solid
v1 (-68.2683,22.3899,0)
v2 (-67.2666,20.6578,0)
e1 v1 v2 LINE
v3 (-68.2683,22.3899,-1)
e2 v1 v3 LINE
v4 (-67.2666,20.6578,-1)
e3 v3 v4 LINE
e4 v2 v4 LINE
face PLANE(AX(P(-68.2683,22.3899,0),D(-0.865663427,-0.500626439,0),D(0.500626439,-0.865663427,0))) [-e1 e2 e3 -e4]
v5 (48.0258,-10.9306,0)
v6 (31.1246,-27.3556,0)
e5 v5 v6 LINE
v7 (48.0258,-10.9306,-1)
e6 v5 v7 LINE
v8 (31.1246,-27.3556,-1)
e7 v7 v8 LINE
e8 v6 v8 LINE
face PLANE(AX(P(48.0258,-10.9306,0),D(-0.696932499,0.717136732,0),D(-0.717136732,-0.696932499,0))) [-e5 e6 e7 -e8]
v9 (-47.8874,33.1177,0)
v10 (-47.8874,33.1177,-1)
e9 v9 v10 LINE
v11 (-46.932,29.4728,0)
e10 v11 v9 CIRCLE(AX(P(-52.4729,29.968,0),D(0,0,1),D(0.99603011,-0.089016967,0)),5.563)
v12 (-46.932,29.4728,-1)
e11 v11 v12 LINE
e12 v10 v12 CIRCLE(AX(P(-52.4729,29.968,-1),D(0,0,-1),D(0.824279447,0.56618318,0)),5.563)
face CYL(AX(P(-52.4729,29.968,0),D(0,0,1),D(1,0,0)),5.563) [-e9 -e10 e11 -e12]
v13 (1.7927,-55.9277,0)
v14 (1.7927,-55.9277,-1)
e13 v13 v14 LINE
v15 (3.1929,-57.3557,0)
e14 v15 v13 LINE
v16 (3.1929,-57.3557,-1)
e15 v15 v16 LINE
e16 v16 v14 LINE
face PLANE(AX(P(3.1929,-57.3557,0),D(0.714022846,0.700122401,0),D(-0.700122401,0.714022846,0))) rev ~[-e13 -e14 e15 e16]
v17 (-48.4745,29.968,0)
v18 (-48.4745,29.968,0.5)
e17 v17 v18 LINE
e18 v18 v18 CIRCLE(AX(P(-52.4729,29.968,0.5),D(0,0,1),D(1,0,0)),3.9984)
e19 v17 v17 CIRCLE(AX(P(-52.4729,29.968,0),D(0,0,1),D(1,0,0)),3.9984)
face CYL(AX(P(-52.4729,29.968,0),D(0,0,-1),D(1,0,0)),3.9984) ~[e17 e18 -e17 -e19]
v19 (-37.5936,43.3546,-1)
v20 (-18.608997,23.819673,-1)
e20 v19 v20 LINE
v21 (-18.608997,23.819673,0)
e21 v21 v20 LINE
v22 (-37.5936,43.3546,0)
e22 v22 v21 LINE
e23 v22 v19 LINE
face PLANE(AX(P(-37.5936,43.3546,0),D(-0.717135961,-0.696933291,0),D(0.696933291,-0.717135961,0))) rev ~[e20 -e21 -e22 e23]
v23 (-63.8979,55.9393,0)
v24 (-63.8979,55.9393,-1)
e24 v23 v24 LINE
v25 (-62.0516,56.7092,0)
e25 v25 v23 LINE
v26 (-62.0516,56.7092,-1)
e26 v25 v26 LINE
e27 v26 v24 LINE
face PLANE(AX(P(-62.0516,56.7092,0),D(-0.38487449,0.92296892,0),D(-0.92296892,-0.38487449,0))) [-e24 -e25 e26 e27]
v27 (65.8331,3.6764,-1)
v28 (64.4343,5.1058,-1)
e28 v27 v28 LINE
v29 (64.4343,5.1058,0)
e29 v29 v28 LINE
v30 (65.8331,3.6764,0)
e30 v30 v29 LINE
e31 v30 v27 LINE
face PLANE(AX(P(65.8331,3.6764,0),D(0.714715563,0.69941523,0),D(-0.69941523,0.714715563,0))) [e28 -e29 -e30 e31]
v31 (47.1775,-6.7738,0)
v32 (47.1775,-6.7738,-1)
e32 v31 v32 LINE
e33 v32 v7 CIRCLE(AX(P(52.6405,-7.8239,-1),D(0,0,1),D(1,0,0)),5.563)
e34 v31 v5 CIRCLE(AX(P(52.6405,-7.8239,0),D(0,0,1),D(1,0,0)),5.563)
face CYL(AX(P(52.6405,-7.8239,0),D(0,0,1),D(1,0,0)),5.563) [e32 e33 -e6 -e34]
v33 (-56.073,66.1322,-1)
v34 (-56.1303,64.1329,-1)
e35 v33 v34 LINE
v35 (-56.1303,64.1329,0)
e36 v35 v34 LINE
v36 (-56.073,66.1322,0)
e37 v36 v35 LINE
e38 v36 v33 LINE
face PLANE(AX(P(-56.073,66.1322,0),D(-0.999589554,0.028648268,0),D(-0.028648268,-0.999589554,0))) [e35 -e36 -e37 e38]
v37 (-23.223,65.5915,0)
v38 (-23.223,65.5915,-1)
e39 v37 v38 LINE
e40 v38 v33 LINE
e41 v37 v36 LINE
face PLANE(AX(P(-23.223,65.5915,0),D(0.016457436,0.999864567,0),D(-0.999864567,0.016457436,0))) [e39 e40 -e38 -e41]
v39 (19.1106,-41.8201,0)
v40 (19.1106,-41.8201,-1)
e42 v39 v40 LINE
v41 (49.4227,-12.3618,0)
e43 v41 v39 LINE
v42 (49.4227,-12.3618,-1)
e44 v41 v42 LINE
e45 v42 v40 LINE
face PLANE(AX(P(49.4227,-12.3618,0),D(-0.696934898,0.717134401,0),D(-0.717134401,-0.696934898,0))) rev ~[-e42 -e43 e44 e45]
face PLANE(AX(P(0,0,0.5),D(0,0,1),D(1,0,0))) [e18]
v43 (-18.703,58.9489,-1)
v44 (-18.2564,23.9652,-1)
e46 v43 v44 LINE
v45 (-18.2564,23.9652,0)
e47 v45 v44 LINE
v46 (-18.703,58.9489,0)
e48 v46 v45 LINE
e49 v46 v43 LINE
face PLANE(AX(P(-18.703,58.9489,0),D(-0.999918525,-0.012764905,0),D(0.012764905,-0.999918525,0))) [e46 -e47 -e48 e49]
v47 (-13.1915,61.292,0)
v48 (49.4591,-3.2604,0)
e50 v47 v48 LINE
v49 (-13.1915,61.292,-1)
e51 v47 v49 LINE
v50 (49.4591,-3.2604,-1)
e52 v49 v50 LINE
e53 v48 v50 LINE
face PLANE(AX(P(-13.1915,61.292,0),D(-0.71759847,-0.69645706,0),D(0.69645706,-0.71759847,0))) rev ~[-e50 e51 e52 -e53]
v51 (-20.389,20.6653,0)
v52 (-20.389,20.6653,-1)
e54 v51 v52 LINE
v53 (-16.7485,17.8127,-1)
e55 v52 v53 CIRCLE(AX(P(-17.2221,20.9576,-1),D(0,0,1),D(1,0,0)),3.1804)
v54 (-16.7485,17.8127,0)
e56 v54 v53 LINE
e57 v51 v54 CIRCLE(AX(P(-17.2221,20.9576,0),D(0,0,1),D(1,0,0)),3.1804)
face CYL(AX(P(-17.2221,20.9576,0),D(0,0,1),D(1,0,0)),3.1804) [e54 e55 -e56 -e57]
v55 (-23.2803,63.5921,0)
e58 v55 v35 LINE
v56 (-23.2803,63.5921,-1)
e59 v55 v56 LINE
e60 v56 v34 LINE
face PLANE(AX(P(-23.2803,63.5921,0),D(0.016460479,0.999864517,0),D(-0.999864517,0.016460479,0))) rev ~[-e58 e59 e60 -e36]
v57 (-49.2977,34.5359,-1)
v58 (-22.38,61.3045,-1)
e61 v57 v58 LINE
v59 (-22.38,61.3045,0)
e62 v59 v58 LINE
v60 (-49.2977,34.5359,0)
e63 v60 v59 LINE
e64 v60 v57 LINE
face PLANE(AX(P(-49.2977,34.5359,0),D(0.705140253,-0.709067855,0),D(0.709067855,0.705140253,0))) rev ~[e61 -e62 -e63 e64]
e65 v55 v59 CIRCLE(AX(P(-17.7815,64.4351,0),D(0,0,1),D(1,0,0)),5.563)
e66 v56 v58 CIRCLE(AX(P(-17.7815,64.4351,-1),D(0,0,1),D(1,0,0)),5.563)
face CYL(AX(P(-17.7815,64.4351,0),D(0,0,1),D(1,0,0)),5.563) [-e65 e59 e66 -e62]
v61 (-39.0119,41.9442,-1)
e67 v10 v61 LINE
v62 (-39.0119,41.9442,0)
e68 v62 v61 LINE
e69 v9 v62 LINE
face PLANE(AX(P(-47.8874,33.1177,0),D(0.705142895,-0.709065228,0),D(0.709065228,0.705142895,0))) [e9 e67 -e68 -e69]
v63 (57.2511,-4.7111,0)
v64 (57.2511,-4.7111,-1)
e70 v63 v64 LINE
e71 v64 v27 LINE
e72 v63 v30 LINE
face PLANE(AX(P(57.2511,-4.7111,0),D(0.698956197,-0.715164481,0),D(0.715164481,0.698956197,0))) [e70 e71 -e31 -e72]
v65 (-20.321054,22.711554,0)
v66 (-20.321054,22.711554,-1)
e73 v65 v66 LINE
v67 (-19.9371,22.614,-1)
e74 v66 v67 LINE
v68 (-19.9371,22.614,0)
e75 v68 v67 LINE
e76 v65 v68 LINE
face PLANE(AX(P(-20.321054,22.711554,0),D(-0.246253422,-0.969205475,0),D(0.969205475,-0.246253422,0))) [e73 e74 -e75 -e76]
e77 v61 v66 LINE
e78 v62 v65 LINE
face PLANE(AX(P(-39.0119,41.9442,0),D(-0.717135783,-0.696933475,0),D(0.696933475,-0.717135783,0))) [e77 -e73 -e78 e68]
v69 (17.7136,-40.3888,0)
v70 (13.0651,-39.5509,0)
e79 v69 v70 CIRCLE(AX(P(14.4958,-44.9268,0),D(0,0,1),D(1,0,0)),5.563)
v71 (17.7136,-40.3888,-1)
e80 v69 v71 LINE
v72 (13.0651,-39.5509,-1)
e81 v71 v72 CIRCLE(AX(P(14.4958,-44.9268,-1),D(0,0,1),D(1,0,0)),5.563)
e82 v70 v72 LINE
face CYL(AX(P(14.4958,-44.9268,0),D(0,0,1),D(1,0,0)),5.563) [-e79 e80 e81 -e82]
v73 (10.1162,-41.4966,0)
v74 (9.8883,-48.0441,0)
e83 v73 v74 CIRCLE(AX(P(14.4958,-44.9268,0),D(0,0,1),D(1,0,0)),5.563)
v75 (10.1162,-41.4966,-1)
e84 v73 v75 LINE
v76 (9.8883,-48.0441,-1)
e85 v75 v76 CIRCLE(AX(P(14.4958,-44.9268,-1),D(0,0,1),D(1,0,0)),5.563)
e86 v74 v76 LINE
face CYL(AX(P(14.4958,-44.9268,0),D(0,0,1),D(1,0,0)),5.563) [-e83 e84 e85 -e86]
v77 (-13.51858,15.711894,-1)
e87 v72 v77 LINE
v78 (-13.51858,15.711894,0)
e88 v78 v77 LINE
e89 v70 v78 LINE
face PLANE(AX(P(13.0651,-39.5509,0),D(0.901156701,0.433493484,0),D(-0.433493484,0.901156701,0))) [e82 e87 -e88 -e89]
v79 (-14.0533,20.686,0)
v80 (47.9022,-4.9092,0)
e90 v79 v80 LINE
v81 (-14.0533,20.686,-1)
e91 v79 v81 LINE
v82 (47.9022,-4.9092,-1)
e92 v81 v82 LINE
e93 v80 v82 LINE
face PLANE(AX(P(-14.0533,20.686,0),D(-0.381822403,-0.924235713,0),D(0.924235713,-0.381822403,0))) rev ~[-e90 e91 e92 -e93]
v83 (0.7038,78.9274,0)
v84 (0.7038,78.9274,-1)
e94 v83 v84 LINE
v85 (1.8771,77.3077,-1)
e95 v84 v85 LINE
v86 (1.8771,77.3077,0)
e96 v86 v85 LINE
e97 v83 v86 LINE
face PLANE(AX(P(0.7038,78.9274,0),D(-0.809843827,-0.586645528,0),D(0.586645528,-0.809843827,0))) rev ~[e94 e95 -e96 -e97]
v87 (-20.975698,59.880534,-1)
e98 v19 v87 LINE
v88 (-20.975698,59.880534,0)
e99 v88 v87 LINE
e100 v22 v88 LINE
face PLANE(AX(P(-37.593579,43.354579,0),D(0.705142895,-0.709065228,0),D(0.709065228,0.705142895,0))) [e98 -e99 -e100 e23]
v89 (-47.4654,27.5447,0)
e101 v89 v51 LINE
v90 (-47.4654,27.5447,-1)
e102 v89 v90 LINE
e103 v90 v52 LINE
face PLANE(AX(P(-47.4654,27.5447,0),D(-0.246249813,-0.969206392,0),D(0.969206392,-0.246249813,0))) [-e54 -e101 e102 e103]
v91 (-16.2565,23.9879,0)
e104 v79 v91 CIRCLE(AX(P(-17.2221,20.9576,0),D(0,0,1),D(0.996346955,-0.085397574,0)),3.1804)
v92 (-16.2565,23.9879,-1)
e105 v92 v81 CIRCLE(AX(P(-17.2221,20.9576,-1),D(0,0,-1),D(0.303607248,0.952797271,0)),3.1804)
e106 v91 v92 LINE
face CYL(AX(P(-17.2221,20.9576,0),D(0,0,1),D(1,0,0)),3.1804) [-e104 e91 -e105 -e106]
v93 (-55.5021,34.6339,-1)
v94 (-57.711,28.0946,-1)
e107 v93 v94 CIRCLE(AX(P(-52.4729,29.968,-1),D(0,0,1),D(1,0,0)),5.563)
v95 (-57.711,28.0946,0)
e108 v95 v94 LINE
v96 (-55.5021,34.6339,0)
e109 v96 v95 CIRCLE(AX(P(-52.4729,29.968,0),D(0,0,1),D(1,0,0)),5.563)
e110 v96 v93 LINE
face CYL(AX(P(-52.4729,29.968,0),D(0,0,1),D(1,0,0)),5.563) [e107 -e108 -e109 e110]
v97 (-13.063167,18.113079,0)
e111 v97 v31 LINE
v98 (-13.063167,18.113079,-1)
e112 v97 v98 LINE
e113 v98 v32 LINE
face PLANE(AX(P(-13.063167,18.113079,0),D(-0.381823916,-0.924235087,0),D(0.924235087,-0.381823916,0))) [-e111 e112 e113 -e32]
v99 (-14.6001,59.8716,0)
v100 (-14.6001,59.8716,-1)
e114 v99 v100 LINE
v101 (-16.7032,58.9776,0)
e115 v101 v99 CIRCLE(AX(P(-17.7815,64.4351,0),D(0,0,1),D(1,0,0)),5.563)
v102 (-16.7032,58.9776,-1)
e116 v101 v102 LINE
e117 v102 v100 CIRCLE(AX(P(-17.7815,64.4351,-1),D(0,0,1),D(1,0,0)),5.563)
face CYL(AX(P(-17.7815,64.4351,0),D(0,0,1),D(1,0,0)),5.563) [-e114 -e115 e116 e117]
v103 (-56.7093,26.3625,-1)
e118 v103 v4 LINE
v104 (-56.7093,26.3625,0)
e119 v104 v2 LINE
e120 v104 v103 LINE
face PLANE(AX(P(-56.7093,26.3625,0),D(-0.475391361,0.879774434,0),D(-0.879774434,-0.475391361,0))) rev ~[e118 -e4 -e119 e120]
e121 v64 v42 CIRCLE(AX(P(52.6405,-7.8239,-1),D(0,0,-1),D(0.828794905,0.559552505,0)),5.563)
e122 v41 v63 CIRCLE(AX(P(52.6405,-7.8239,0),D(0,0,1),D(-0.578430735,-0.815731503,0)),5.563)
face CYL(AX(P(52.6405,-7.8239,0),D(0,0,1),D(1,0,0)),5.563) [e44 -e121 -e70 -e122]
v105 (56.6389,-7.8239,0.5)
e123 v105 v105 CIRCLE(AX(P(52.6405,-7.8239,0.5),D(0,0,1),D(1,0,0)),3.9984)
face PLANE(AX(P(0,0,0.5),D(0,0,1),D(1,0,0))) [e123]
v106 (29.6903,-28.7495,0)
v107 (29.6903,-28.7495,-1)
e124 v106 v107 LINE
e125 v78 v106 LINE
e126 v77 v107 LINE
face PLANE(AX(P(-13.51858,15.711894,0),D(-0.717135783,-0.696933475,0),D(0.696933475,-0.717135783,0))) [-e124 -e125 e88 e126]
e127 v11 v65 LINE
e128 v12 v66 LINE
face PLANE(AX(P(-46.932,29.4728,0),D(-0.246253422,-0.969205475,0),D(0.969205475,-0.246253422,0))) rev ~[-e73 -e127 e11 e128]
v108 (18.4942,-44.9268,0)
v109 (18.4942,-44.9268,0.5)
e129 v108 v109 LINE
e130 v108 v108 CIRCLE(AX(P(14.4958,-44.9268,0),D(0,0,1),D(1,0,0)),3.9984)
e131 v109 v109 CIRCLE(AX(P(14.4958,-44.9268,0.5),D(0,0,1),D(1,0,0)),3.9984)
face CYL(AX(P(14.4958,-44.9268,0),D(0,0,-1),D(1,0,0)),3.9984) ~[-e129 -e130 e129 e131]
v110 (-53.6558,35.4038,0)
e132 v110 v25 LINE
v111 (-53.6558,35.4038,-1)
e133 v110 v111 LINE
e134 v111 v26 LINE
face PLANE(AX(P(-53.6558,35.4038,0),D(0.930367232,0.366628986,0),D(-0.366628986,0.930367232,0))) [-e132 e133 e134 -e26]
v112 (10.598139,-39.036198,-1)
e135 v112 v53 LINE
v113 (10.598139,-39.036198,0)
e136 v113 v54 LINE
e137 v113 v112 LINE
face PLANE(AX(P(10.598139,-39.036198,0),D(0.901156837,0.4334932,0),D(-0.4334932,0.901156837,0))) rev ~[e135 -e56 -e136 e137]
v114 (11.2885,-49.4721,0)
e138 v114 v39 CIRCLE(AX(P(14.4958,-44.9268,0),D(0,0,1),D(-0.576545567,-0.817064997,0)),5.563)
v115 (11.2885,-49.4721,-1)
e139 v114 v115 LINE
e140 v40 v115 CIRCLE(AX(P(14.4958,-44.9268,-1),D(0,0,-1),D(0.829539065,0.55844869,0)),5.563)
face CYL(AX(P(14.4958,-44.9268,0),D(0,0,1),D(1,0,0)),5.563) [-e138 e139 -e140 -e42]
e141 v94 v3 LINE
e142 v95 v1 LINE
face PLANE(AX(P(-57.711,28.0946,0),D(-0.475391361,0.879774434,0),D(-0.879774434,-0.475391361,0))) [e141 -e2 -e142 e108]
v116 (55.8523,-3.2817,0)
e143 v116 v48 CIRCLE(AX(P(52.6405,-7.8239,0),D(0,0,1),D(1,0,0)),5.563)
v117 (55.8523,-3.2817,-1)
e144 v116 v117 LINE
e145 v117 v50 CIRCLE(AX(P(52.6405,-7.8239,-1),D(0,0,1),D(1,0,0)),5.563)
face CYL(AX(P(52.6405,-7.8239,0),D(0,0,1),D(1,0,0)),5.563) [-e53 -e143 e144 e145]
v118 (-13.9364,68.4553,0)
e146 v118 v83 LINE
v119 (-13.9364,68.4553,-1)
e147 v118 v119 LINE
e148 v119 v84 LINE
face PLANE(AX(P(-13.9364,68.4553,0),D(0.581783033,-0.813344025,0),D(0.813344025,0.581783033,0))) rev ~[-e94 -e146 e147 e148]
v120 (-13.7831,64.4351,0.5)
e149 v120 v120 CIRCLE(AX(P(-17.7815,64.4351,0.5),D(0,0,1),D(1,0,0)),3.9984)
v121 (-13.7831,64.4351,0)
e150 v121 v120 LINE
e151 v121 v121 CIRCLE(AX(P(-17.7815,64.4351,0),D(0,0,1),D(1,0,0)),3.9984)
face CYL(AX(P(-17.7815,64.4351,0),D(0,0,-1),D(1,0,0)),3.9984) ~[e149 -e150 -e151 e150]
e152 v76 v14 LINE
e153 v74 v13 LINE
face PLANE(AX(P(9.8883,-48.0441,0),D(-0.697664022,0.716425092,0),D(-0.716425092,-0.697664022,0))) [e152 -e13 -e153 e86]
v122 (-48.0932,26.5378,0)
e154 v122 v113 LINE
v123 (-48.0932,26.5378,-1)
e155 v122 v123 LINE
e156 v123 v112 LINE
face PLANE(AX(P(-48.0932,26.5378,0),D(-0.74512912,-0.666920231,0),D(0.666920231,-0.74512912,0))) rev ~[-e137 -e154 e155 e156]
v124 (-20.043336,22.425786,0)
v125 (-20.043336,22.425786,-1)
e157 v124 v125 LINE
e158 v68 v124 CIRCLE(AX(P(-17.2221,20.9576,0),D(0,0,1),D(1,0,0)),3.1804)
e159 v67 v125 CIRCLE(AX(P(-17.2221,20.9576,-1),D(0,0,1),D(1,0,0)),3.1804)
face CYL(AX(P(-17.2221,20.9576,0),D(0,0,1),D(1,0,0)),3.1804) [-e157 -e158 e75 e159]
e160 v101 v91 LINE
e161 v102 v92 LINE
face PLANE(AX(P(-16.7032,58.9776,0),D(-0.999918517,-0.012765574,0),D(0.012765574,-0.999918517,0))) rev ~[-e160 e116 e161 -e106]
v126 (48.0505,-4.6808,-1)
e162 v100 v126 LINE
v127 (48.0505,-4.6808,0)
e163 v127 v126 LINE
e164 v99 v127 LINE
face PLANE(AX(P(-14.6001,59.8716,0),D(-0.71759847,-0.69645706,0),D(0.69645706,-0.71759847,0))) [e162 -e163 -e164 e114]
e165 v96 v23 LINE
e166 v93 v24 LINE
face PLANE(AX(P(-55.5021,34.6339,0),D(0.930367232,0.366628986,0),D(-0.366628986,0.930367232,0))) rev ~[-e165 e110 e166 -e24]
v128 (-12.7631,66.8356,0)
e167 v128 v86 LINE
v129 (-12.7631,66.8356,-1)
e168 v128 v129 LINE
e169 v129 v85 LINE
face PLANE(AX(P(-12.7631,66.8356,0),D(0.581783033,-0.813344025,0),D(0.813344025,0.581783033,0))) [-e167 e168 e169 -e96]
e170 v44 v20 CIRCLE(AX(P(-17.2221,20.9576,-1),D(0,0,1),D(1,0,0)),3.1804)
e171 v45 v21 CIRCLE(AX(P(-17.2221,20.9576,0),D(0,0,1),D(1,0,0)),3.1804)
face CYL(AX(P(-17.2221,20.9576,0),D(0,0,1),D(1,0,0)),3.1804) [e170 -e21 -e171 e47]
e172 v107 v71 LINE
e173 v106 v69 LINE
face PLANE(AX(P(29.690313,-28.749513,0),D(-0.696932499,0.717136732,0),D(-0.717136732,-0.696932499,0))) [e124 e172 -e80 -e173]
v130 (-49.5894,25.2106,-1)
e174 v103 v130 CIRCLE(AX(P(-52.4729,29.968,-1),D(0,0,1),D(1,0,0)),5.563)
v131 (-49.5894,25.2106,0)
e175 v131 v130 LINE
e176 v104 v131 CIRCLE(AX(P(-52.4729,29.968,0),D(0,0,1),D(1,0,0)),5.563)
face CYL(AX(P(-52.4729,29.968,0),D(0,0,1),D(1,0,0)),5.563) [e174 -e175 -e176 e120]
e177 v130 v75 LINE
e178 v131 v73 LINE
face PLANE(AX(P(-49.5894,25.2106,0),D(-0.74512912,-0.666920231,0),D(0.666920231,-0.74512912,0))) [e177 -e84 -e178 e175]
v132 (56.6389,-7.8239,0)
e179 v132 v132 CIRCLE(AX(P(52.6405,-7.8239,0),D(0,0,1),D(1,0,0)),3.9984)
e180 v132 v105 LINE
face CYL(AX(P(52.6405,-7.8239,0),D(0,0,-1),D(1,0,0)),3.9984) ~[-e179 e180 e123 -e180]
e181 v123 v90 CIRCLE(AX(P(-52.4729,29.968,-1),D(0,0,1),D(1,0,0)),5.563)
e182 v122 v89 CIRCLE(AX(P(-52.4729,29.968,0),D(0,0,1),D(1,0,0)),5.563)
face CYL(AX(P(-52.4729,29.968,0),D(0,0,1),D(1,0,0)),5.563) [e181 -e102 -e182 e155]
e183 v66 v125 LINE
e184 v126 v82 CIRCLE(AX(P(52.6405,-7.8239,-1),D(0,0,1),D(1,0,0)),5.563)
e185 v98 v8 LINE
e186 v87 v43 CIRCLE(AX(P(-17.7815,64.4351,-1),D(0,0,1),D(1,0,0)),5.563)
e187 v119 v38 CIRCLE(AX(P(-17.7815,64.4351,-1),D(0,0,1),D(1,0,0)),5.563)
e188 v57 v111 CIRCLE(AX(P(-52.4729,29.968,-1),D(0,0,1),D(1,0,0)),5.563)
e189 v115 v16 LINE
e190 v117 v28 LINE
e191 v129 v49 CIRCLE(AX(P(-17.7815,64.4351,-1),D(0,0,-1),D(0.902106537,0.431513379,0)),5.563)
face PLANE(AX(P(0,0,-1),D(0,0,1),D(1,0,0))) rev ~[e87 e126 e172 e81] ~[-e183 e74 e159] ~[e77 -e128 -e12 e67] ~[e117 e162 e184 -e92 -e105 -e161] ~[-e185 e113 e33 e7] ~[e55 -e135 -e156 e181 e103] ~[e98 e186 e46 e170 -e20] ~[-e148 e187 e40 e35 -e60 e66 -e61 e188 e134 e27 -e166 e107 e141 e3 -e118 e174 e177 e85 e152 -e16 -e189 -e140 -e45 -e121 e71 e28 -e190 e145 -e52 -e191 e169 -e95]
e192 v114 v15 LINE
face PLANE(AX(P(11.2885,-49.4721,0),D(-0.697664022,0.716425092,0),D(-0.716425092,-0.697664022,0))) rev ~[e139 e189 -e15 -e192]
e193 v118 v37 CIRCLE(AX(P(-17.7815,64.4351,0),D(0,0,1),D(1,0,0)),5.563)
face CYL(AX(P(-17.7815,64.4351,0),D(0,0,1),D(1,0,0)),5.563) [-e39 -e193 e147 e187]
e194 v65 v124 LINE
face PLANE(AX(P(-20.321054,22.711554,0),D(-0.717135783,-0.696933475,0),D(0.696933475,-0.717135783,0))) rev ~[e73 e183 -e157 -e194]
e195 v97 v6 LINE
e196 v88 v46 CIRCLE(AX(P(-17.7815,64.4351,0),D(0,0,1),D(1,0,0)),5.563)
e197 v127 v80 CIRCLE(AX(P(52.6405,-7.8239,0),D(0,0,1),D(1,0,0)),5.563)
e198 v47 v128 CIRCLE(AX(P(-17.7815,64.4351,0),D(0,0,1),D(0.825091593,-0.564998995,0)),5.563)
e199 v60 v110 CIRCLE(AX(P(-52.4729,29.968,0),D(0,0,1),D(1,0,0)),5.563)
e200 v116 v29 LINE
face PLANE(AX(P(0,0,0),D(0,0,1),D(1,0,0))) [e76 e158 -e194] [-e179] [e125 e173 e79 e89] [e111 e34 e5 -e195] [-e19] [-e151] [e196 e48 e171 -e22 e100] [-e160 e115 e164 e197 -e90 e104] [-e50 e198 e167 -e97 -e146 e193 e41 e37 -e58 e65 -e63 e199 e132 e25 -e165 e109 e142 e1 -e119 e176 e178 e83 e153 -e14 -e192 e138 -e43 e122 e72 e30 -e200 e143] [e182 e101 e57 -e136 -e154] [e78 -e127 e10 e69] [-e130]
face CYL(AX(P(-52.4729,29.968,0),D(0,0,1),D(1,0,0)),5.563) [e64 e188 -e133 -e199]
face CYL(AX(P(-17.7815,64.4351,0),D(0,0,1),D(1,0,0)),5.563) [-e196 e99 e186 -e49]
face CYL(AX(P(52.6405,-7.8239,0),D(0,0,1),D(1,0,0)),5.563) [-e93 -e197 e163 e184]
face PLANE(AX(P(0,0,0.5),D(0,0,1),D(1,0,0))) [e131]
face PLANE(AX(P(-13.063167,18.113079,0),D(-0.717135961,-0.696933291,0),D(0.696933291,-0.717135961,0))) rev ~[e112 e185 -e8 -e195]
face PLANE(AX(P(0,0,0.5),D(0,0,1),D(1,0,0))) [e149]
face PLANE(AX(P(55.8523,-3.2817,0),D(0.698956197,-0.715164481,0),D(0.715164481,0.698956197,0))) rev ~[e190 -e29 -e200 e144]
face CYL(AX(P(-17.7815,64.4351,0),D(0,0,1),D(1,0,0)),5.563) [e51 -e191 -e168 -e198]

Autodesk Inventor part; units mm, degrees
ref_plane "YZ Plane" through (0, 0, 0) normal (1, 0, 0) x (0, 1, 0)
ref_plane "XZ Plane" through (0, 0, 0) normal (0, 1, 0) x (-1, 0, 0)
ref_plane "XY Plane" through (0, 0, 0) normal (0, 0, 1) x (1, 0, 0)
sketch "Sketch1" plane through (0, 0, 0) normal (0, 0, 1) x (1, 0, 0)
  line L0 (-49.2977, 34.5359) -> (-22.38, 61.3045)
  line L1 (-47.8874, 33.1177) -> (-20.9698, 59.8864)
  line L2 (-49.2977, 34.5359) -> (-47.8874, 33.1177) construction
  circle A0 centre (-52.4729, 29.968) radius 5.563
  circle A1 centre (-52.4729, 29.968) radius 3.9984
  circle A2 centre (-17.7815, 64.4351) radius 5.563
  circle A3 centre (-17.7815, 64.4351) radius 3.9984
  line L3 (-13.9364, 68.4553) -> (0.7038, 78.9274)
  line L4 (-12.7631, 66.8356) -> (1.8771, 77.3077)
  line L5 (-57.711, 28.0946) -> (-68.2683, 22.3899)
  line L6 (-56.7093, 26.3625) -> (-67.2666, 20.6578)
  line L7 (-49.5894, 25.2106) -> (10.1162, -41.4966)
  circle A4 centre (14.4958, -44.9268) radius 5.563
  circle A5 centre (14.4958, -44.9268) radius 3.9984
  circle A6 centre (52.6405, -7.8239) radius 3.9984
  circle A7 centre (52.6405, -7.8239) radius 5.563
  line L8 (-48.0932, 26.5378) -> (11.6124, -40.1694)
  line L9 (-14.6001, 59.8716) -> (48.0505, -4.6808)
  line L10 (-13.1915, 61.292) -> (49.4591, -3.2604)
  line L11 (49.4227, -12.3618) -> (19.1106, -41.8201)
  line L12 (48.0258, -10.9306) -> (17.7136, -40.3888)
  line L13 (11.2885, -49.4721) -> (3.1929, -57.3557)
  line L14 (9.8883, -48.0441) -> (1.7927, -55.9277)
  line L15 (57.2511, -4.7111) -> (65.8331, 3.6764)
  line L16 (55.8523, -3.2817) -> (64.4343, 5.1058)
  line L17 (-39.0119, 41.9442) -> (29.6903, -28.7495)
  line L18 (-37.5936, 43.3546) -> (31.1246, -27.3556)
  line L19 (-55.5021, 34.6339) -> (-63.8979, 55.9393)
  line L20 (-53.6558, 35.4038) -> (-62.0516, 56.7092)
  line L21 (-23.223, 65.5915) -> (-56.073, 66.1322)
  line L22 (-23.2803, 63.5921) -> (-56.1303, 64.1329)
  circle A8 centre (-17.2221, 20.9576) radius 3.1804
  line L23 (13.0651, -39.5509) -> (-14.9644, 18.7175)
  line L24 (11.2563, -40.4044) -> (-16.7485, 17.8127)
  line L25 (-14.0533, 20.686) -> (47.9022, -4.9092)
  line L26 (-14.8421, 18.848) -> (47.1775, -6.7738)
  line L27 (-18.703, 58.9489) -> (-18.2564, 23.9652)
  line L28 (-16.7032, 58.9776) -> (-16.2565, 23.9879)
  line L29 (-47.4654, 27.5447) -> (-20.389, 20.6653)
  line L30 (-46.932, 29.4728) -> (-19.9371, 22.614)
  line L31 (0.7038, 78.9274) -> (1.8771, 77.3077)
  line L32 (-56.073, 66.1322) -> (-56.1303, 64.1329)
  line L33 (-62.0516, 56.7092) -> (-63.8979, 55.9393)
  line L34 (-68.2683, 22.3899) -> (-67.2666, 20.6578)
  line L35 (3.1929, -57.3557) -> (1.7927, -55.9277)
  line L36 (65.8331, 3.6764) -> (64.4343, 5.1058)
  point P0 (0, 0)
  point P1 (9.143, -43.4122)
  point P2 (-19.963, 60.8956)
  point P3 (18.6755, -41.2556)
  point P4 (19.8991, -43.603)
  point P5 (47.2964, -9.3692)
  point P6 (58.0343, -9.1855)
  point P7 (55.8444, -3.2761)
  point P8 (16.2732, -50.1982)
  point P9 (18.0227, -49.2289)
  point P10 (56.2951, -12.0181)
  point P11 (57.5423, -10.4544)
  point P12 (-20.321, 22.7115)
  point P13 (-20.9757, 59.8805)
  point P14 (-18.6091, 23.8197)
  point P15 (10.5981, -39.0362)
  point P16 (31.0842, -30.1838)
  point P17 (32.5185, -28.7899)
  point P18 (31.1246, -27.3556)
  point P19 (-13.0632, 18.1131)
  point P20 (-13.5186, 15.7119)
  point P21 (29.6903, -28.7495)
  point P22 (-20.0433, 22.4258)
  dimension "d49" = 6.3609
  dimension "d0" = 2
  dimension "d2" = 1
  dimension "d3" = 5.563
  dimension "d4" = 1.5646
  dimension "d6" = 1.5646
  dimension "d8" = 5.563
  dimension "d9" = 2
  dimension "d10" = 170.735
  dimension "d11" = 2
  dimension "d12" = 163.544
  dimension "d13" = 1.5646
  dimension "d17" = 7.9968
  dimension "d18" = 1.5646
  dimension "d19" = 7.9968
  dimension "d21" = 60.4275
  dimension "d22" = 66.8436
  dimension "d24" = 47.2075
  dimension "d25" = 2
  dimension "d26" = 2
  dimension "d27" = 81.433
  dimension "d28" = 93.011
  dimension "d29" = 53.2188
  dimension "d30" = 2
  dimension "d31" = 2
  dimension "d32" = 2
  dimension "d33" = 2
  dimension "d34" = 2
  dimension "d35" = 2
  dimension "d36" = 66.667
  dimension "d37" = 45.784
  dimension "d39" = 92.41
  dimension "d40" = 87.648
  dimension "d42" = 89.8
  dimension "d45" = 1
  dimension "d46" = 18
  dimension "d48" = 2
  dimension "d50" = 53.2132
  dimension "d51" = 27.126
  dimension "d52" = 44.9268
  dimension "d53" = 48.9027
  dimension "d54" = 29.968
  dimension "d55" = 20.9576
  dimension "d56" = 2
  dimension "d57" = 2
  dimension "d58" = 2
  dimension "d59" = 64.6596
  dimension "d60" = 67.0343
  dimension "d61" = 34.9897
  dimension "d62" = 27.8525
  dimension "d63" = 22.9
  dimension "d64" = 12
  dimension "d65" = 32.85
  dimension "d66" = 18
  dimension "d67" = 12
  dimension "d70" = 11.3
  dimension "d71" = 3.8451
  dimension "d72" = 5.4415
  dimension "d73" = 5.4358
  dimension "d74" = 5.2381
  dimension "d75" = 5.5409
  dimension "d76" = 5.4575
  dimension "d77" = 3.1128
  dimension "d78" = 2.6305
  dimension "d79" = 4.3021
extrude "Extrusion3" add sketch "Sketch1" against normal blind 1 contours L0 A2 L1 A0 | A0 | A2 | A0 L19 L33 L20 | L22 L32 L21 A2 | L1 L18 A8 L30 L17 | A2 L28 A8 L27 | L17 A8 L29 A0 L30 | A0 L6 L34 L5 | L3 L31 L4 A2 | A8 L18 | L18 A8 L17 | L17 A8 | A8 L25 A7 L26 L18 | L18 L26 A8 | A2 L10 A7 L9 | A8 L23 L17 | L17 L23 A4 L8 L24 A8 | L8 L24 A4 L7 A0 | L18 L12 L17 L23 A8 L26 | A7 | L8 A4 L24 | A4 | L12 A7 L11 A4 | A4 L13 L35 L14 | L16 L36 L15 A7
sketch "Sketch2" plane through (0, 0, 0) normal (0, 0, 1) x (1, 0, 0)
  circle A0 centre (52.6405, -7.8239) radius 3.9984
  circle A1 centre (52.6405, -7.8239) radius 3.9984 projected
  circle A2 centre (14.4958, -44.9268) radius 3.9984
  circle A3 centre (14.4958, -44.9268) radius 3.9984 projected
  circle A4 centre (-52.4729, 29.968) radius 3.9984
  circle A5 centre (-52.4729, 29.968) radius 3.9984 projected
  circle A6 centre (-17.7815, 64.4351) radius 3.9984
  circle A7 centre (-17.7815, 64.4351) radius 3.9984 projected
  point P0 (0, 0)
extrude "Extrusion2" add sketch "Sketch2" along normal blind 0.5 and the other way blind 1
equation "\"d6\" = d4"
equation "\"d8\" = d3"
equation "\"d13\" = d15"
equation "\"d18\" = d20"
equation "\"d15\" = 1.564594"
equation "\"d20\" = 1.564594"
properties part number "Grundform_Boden"
